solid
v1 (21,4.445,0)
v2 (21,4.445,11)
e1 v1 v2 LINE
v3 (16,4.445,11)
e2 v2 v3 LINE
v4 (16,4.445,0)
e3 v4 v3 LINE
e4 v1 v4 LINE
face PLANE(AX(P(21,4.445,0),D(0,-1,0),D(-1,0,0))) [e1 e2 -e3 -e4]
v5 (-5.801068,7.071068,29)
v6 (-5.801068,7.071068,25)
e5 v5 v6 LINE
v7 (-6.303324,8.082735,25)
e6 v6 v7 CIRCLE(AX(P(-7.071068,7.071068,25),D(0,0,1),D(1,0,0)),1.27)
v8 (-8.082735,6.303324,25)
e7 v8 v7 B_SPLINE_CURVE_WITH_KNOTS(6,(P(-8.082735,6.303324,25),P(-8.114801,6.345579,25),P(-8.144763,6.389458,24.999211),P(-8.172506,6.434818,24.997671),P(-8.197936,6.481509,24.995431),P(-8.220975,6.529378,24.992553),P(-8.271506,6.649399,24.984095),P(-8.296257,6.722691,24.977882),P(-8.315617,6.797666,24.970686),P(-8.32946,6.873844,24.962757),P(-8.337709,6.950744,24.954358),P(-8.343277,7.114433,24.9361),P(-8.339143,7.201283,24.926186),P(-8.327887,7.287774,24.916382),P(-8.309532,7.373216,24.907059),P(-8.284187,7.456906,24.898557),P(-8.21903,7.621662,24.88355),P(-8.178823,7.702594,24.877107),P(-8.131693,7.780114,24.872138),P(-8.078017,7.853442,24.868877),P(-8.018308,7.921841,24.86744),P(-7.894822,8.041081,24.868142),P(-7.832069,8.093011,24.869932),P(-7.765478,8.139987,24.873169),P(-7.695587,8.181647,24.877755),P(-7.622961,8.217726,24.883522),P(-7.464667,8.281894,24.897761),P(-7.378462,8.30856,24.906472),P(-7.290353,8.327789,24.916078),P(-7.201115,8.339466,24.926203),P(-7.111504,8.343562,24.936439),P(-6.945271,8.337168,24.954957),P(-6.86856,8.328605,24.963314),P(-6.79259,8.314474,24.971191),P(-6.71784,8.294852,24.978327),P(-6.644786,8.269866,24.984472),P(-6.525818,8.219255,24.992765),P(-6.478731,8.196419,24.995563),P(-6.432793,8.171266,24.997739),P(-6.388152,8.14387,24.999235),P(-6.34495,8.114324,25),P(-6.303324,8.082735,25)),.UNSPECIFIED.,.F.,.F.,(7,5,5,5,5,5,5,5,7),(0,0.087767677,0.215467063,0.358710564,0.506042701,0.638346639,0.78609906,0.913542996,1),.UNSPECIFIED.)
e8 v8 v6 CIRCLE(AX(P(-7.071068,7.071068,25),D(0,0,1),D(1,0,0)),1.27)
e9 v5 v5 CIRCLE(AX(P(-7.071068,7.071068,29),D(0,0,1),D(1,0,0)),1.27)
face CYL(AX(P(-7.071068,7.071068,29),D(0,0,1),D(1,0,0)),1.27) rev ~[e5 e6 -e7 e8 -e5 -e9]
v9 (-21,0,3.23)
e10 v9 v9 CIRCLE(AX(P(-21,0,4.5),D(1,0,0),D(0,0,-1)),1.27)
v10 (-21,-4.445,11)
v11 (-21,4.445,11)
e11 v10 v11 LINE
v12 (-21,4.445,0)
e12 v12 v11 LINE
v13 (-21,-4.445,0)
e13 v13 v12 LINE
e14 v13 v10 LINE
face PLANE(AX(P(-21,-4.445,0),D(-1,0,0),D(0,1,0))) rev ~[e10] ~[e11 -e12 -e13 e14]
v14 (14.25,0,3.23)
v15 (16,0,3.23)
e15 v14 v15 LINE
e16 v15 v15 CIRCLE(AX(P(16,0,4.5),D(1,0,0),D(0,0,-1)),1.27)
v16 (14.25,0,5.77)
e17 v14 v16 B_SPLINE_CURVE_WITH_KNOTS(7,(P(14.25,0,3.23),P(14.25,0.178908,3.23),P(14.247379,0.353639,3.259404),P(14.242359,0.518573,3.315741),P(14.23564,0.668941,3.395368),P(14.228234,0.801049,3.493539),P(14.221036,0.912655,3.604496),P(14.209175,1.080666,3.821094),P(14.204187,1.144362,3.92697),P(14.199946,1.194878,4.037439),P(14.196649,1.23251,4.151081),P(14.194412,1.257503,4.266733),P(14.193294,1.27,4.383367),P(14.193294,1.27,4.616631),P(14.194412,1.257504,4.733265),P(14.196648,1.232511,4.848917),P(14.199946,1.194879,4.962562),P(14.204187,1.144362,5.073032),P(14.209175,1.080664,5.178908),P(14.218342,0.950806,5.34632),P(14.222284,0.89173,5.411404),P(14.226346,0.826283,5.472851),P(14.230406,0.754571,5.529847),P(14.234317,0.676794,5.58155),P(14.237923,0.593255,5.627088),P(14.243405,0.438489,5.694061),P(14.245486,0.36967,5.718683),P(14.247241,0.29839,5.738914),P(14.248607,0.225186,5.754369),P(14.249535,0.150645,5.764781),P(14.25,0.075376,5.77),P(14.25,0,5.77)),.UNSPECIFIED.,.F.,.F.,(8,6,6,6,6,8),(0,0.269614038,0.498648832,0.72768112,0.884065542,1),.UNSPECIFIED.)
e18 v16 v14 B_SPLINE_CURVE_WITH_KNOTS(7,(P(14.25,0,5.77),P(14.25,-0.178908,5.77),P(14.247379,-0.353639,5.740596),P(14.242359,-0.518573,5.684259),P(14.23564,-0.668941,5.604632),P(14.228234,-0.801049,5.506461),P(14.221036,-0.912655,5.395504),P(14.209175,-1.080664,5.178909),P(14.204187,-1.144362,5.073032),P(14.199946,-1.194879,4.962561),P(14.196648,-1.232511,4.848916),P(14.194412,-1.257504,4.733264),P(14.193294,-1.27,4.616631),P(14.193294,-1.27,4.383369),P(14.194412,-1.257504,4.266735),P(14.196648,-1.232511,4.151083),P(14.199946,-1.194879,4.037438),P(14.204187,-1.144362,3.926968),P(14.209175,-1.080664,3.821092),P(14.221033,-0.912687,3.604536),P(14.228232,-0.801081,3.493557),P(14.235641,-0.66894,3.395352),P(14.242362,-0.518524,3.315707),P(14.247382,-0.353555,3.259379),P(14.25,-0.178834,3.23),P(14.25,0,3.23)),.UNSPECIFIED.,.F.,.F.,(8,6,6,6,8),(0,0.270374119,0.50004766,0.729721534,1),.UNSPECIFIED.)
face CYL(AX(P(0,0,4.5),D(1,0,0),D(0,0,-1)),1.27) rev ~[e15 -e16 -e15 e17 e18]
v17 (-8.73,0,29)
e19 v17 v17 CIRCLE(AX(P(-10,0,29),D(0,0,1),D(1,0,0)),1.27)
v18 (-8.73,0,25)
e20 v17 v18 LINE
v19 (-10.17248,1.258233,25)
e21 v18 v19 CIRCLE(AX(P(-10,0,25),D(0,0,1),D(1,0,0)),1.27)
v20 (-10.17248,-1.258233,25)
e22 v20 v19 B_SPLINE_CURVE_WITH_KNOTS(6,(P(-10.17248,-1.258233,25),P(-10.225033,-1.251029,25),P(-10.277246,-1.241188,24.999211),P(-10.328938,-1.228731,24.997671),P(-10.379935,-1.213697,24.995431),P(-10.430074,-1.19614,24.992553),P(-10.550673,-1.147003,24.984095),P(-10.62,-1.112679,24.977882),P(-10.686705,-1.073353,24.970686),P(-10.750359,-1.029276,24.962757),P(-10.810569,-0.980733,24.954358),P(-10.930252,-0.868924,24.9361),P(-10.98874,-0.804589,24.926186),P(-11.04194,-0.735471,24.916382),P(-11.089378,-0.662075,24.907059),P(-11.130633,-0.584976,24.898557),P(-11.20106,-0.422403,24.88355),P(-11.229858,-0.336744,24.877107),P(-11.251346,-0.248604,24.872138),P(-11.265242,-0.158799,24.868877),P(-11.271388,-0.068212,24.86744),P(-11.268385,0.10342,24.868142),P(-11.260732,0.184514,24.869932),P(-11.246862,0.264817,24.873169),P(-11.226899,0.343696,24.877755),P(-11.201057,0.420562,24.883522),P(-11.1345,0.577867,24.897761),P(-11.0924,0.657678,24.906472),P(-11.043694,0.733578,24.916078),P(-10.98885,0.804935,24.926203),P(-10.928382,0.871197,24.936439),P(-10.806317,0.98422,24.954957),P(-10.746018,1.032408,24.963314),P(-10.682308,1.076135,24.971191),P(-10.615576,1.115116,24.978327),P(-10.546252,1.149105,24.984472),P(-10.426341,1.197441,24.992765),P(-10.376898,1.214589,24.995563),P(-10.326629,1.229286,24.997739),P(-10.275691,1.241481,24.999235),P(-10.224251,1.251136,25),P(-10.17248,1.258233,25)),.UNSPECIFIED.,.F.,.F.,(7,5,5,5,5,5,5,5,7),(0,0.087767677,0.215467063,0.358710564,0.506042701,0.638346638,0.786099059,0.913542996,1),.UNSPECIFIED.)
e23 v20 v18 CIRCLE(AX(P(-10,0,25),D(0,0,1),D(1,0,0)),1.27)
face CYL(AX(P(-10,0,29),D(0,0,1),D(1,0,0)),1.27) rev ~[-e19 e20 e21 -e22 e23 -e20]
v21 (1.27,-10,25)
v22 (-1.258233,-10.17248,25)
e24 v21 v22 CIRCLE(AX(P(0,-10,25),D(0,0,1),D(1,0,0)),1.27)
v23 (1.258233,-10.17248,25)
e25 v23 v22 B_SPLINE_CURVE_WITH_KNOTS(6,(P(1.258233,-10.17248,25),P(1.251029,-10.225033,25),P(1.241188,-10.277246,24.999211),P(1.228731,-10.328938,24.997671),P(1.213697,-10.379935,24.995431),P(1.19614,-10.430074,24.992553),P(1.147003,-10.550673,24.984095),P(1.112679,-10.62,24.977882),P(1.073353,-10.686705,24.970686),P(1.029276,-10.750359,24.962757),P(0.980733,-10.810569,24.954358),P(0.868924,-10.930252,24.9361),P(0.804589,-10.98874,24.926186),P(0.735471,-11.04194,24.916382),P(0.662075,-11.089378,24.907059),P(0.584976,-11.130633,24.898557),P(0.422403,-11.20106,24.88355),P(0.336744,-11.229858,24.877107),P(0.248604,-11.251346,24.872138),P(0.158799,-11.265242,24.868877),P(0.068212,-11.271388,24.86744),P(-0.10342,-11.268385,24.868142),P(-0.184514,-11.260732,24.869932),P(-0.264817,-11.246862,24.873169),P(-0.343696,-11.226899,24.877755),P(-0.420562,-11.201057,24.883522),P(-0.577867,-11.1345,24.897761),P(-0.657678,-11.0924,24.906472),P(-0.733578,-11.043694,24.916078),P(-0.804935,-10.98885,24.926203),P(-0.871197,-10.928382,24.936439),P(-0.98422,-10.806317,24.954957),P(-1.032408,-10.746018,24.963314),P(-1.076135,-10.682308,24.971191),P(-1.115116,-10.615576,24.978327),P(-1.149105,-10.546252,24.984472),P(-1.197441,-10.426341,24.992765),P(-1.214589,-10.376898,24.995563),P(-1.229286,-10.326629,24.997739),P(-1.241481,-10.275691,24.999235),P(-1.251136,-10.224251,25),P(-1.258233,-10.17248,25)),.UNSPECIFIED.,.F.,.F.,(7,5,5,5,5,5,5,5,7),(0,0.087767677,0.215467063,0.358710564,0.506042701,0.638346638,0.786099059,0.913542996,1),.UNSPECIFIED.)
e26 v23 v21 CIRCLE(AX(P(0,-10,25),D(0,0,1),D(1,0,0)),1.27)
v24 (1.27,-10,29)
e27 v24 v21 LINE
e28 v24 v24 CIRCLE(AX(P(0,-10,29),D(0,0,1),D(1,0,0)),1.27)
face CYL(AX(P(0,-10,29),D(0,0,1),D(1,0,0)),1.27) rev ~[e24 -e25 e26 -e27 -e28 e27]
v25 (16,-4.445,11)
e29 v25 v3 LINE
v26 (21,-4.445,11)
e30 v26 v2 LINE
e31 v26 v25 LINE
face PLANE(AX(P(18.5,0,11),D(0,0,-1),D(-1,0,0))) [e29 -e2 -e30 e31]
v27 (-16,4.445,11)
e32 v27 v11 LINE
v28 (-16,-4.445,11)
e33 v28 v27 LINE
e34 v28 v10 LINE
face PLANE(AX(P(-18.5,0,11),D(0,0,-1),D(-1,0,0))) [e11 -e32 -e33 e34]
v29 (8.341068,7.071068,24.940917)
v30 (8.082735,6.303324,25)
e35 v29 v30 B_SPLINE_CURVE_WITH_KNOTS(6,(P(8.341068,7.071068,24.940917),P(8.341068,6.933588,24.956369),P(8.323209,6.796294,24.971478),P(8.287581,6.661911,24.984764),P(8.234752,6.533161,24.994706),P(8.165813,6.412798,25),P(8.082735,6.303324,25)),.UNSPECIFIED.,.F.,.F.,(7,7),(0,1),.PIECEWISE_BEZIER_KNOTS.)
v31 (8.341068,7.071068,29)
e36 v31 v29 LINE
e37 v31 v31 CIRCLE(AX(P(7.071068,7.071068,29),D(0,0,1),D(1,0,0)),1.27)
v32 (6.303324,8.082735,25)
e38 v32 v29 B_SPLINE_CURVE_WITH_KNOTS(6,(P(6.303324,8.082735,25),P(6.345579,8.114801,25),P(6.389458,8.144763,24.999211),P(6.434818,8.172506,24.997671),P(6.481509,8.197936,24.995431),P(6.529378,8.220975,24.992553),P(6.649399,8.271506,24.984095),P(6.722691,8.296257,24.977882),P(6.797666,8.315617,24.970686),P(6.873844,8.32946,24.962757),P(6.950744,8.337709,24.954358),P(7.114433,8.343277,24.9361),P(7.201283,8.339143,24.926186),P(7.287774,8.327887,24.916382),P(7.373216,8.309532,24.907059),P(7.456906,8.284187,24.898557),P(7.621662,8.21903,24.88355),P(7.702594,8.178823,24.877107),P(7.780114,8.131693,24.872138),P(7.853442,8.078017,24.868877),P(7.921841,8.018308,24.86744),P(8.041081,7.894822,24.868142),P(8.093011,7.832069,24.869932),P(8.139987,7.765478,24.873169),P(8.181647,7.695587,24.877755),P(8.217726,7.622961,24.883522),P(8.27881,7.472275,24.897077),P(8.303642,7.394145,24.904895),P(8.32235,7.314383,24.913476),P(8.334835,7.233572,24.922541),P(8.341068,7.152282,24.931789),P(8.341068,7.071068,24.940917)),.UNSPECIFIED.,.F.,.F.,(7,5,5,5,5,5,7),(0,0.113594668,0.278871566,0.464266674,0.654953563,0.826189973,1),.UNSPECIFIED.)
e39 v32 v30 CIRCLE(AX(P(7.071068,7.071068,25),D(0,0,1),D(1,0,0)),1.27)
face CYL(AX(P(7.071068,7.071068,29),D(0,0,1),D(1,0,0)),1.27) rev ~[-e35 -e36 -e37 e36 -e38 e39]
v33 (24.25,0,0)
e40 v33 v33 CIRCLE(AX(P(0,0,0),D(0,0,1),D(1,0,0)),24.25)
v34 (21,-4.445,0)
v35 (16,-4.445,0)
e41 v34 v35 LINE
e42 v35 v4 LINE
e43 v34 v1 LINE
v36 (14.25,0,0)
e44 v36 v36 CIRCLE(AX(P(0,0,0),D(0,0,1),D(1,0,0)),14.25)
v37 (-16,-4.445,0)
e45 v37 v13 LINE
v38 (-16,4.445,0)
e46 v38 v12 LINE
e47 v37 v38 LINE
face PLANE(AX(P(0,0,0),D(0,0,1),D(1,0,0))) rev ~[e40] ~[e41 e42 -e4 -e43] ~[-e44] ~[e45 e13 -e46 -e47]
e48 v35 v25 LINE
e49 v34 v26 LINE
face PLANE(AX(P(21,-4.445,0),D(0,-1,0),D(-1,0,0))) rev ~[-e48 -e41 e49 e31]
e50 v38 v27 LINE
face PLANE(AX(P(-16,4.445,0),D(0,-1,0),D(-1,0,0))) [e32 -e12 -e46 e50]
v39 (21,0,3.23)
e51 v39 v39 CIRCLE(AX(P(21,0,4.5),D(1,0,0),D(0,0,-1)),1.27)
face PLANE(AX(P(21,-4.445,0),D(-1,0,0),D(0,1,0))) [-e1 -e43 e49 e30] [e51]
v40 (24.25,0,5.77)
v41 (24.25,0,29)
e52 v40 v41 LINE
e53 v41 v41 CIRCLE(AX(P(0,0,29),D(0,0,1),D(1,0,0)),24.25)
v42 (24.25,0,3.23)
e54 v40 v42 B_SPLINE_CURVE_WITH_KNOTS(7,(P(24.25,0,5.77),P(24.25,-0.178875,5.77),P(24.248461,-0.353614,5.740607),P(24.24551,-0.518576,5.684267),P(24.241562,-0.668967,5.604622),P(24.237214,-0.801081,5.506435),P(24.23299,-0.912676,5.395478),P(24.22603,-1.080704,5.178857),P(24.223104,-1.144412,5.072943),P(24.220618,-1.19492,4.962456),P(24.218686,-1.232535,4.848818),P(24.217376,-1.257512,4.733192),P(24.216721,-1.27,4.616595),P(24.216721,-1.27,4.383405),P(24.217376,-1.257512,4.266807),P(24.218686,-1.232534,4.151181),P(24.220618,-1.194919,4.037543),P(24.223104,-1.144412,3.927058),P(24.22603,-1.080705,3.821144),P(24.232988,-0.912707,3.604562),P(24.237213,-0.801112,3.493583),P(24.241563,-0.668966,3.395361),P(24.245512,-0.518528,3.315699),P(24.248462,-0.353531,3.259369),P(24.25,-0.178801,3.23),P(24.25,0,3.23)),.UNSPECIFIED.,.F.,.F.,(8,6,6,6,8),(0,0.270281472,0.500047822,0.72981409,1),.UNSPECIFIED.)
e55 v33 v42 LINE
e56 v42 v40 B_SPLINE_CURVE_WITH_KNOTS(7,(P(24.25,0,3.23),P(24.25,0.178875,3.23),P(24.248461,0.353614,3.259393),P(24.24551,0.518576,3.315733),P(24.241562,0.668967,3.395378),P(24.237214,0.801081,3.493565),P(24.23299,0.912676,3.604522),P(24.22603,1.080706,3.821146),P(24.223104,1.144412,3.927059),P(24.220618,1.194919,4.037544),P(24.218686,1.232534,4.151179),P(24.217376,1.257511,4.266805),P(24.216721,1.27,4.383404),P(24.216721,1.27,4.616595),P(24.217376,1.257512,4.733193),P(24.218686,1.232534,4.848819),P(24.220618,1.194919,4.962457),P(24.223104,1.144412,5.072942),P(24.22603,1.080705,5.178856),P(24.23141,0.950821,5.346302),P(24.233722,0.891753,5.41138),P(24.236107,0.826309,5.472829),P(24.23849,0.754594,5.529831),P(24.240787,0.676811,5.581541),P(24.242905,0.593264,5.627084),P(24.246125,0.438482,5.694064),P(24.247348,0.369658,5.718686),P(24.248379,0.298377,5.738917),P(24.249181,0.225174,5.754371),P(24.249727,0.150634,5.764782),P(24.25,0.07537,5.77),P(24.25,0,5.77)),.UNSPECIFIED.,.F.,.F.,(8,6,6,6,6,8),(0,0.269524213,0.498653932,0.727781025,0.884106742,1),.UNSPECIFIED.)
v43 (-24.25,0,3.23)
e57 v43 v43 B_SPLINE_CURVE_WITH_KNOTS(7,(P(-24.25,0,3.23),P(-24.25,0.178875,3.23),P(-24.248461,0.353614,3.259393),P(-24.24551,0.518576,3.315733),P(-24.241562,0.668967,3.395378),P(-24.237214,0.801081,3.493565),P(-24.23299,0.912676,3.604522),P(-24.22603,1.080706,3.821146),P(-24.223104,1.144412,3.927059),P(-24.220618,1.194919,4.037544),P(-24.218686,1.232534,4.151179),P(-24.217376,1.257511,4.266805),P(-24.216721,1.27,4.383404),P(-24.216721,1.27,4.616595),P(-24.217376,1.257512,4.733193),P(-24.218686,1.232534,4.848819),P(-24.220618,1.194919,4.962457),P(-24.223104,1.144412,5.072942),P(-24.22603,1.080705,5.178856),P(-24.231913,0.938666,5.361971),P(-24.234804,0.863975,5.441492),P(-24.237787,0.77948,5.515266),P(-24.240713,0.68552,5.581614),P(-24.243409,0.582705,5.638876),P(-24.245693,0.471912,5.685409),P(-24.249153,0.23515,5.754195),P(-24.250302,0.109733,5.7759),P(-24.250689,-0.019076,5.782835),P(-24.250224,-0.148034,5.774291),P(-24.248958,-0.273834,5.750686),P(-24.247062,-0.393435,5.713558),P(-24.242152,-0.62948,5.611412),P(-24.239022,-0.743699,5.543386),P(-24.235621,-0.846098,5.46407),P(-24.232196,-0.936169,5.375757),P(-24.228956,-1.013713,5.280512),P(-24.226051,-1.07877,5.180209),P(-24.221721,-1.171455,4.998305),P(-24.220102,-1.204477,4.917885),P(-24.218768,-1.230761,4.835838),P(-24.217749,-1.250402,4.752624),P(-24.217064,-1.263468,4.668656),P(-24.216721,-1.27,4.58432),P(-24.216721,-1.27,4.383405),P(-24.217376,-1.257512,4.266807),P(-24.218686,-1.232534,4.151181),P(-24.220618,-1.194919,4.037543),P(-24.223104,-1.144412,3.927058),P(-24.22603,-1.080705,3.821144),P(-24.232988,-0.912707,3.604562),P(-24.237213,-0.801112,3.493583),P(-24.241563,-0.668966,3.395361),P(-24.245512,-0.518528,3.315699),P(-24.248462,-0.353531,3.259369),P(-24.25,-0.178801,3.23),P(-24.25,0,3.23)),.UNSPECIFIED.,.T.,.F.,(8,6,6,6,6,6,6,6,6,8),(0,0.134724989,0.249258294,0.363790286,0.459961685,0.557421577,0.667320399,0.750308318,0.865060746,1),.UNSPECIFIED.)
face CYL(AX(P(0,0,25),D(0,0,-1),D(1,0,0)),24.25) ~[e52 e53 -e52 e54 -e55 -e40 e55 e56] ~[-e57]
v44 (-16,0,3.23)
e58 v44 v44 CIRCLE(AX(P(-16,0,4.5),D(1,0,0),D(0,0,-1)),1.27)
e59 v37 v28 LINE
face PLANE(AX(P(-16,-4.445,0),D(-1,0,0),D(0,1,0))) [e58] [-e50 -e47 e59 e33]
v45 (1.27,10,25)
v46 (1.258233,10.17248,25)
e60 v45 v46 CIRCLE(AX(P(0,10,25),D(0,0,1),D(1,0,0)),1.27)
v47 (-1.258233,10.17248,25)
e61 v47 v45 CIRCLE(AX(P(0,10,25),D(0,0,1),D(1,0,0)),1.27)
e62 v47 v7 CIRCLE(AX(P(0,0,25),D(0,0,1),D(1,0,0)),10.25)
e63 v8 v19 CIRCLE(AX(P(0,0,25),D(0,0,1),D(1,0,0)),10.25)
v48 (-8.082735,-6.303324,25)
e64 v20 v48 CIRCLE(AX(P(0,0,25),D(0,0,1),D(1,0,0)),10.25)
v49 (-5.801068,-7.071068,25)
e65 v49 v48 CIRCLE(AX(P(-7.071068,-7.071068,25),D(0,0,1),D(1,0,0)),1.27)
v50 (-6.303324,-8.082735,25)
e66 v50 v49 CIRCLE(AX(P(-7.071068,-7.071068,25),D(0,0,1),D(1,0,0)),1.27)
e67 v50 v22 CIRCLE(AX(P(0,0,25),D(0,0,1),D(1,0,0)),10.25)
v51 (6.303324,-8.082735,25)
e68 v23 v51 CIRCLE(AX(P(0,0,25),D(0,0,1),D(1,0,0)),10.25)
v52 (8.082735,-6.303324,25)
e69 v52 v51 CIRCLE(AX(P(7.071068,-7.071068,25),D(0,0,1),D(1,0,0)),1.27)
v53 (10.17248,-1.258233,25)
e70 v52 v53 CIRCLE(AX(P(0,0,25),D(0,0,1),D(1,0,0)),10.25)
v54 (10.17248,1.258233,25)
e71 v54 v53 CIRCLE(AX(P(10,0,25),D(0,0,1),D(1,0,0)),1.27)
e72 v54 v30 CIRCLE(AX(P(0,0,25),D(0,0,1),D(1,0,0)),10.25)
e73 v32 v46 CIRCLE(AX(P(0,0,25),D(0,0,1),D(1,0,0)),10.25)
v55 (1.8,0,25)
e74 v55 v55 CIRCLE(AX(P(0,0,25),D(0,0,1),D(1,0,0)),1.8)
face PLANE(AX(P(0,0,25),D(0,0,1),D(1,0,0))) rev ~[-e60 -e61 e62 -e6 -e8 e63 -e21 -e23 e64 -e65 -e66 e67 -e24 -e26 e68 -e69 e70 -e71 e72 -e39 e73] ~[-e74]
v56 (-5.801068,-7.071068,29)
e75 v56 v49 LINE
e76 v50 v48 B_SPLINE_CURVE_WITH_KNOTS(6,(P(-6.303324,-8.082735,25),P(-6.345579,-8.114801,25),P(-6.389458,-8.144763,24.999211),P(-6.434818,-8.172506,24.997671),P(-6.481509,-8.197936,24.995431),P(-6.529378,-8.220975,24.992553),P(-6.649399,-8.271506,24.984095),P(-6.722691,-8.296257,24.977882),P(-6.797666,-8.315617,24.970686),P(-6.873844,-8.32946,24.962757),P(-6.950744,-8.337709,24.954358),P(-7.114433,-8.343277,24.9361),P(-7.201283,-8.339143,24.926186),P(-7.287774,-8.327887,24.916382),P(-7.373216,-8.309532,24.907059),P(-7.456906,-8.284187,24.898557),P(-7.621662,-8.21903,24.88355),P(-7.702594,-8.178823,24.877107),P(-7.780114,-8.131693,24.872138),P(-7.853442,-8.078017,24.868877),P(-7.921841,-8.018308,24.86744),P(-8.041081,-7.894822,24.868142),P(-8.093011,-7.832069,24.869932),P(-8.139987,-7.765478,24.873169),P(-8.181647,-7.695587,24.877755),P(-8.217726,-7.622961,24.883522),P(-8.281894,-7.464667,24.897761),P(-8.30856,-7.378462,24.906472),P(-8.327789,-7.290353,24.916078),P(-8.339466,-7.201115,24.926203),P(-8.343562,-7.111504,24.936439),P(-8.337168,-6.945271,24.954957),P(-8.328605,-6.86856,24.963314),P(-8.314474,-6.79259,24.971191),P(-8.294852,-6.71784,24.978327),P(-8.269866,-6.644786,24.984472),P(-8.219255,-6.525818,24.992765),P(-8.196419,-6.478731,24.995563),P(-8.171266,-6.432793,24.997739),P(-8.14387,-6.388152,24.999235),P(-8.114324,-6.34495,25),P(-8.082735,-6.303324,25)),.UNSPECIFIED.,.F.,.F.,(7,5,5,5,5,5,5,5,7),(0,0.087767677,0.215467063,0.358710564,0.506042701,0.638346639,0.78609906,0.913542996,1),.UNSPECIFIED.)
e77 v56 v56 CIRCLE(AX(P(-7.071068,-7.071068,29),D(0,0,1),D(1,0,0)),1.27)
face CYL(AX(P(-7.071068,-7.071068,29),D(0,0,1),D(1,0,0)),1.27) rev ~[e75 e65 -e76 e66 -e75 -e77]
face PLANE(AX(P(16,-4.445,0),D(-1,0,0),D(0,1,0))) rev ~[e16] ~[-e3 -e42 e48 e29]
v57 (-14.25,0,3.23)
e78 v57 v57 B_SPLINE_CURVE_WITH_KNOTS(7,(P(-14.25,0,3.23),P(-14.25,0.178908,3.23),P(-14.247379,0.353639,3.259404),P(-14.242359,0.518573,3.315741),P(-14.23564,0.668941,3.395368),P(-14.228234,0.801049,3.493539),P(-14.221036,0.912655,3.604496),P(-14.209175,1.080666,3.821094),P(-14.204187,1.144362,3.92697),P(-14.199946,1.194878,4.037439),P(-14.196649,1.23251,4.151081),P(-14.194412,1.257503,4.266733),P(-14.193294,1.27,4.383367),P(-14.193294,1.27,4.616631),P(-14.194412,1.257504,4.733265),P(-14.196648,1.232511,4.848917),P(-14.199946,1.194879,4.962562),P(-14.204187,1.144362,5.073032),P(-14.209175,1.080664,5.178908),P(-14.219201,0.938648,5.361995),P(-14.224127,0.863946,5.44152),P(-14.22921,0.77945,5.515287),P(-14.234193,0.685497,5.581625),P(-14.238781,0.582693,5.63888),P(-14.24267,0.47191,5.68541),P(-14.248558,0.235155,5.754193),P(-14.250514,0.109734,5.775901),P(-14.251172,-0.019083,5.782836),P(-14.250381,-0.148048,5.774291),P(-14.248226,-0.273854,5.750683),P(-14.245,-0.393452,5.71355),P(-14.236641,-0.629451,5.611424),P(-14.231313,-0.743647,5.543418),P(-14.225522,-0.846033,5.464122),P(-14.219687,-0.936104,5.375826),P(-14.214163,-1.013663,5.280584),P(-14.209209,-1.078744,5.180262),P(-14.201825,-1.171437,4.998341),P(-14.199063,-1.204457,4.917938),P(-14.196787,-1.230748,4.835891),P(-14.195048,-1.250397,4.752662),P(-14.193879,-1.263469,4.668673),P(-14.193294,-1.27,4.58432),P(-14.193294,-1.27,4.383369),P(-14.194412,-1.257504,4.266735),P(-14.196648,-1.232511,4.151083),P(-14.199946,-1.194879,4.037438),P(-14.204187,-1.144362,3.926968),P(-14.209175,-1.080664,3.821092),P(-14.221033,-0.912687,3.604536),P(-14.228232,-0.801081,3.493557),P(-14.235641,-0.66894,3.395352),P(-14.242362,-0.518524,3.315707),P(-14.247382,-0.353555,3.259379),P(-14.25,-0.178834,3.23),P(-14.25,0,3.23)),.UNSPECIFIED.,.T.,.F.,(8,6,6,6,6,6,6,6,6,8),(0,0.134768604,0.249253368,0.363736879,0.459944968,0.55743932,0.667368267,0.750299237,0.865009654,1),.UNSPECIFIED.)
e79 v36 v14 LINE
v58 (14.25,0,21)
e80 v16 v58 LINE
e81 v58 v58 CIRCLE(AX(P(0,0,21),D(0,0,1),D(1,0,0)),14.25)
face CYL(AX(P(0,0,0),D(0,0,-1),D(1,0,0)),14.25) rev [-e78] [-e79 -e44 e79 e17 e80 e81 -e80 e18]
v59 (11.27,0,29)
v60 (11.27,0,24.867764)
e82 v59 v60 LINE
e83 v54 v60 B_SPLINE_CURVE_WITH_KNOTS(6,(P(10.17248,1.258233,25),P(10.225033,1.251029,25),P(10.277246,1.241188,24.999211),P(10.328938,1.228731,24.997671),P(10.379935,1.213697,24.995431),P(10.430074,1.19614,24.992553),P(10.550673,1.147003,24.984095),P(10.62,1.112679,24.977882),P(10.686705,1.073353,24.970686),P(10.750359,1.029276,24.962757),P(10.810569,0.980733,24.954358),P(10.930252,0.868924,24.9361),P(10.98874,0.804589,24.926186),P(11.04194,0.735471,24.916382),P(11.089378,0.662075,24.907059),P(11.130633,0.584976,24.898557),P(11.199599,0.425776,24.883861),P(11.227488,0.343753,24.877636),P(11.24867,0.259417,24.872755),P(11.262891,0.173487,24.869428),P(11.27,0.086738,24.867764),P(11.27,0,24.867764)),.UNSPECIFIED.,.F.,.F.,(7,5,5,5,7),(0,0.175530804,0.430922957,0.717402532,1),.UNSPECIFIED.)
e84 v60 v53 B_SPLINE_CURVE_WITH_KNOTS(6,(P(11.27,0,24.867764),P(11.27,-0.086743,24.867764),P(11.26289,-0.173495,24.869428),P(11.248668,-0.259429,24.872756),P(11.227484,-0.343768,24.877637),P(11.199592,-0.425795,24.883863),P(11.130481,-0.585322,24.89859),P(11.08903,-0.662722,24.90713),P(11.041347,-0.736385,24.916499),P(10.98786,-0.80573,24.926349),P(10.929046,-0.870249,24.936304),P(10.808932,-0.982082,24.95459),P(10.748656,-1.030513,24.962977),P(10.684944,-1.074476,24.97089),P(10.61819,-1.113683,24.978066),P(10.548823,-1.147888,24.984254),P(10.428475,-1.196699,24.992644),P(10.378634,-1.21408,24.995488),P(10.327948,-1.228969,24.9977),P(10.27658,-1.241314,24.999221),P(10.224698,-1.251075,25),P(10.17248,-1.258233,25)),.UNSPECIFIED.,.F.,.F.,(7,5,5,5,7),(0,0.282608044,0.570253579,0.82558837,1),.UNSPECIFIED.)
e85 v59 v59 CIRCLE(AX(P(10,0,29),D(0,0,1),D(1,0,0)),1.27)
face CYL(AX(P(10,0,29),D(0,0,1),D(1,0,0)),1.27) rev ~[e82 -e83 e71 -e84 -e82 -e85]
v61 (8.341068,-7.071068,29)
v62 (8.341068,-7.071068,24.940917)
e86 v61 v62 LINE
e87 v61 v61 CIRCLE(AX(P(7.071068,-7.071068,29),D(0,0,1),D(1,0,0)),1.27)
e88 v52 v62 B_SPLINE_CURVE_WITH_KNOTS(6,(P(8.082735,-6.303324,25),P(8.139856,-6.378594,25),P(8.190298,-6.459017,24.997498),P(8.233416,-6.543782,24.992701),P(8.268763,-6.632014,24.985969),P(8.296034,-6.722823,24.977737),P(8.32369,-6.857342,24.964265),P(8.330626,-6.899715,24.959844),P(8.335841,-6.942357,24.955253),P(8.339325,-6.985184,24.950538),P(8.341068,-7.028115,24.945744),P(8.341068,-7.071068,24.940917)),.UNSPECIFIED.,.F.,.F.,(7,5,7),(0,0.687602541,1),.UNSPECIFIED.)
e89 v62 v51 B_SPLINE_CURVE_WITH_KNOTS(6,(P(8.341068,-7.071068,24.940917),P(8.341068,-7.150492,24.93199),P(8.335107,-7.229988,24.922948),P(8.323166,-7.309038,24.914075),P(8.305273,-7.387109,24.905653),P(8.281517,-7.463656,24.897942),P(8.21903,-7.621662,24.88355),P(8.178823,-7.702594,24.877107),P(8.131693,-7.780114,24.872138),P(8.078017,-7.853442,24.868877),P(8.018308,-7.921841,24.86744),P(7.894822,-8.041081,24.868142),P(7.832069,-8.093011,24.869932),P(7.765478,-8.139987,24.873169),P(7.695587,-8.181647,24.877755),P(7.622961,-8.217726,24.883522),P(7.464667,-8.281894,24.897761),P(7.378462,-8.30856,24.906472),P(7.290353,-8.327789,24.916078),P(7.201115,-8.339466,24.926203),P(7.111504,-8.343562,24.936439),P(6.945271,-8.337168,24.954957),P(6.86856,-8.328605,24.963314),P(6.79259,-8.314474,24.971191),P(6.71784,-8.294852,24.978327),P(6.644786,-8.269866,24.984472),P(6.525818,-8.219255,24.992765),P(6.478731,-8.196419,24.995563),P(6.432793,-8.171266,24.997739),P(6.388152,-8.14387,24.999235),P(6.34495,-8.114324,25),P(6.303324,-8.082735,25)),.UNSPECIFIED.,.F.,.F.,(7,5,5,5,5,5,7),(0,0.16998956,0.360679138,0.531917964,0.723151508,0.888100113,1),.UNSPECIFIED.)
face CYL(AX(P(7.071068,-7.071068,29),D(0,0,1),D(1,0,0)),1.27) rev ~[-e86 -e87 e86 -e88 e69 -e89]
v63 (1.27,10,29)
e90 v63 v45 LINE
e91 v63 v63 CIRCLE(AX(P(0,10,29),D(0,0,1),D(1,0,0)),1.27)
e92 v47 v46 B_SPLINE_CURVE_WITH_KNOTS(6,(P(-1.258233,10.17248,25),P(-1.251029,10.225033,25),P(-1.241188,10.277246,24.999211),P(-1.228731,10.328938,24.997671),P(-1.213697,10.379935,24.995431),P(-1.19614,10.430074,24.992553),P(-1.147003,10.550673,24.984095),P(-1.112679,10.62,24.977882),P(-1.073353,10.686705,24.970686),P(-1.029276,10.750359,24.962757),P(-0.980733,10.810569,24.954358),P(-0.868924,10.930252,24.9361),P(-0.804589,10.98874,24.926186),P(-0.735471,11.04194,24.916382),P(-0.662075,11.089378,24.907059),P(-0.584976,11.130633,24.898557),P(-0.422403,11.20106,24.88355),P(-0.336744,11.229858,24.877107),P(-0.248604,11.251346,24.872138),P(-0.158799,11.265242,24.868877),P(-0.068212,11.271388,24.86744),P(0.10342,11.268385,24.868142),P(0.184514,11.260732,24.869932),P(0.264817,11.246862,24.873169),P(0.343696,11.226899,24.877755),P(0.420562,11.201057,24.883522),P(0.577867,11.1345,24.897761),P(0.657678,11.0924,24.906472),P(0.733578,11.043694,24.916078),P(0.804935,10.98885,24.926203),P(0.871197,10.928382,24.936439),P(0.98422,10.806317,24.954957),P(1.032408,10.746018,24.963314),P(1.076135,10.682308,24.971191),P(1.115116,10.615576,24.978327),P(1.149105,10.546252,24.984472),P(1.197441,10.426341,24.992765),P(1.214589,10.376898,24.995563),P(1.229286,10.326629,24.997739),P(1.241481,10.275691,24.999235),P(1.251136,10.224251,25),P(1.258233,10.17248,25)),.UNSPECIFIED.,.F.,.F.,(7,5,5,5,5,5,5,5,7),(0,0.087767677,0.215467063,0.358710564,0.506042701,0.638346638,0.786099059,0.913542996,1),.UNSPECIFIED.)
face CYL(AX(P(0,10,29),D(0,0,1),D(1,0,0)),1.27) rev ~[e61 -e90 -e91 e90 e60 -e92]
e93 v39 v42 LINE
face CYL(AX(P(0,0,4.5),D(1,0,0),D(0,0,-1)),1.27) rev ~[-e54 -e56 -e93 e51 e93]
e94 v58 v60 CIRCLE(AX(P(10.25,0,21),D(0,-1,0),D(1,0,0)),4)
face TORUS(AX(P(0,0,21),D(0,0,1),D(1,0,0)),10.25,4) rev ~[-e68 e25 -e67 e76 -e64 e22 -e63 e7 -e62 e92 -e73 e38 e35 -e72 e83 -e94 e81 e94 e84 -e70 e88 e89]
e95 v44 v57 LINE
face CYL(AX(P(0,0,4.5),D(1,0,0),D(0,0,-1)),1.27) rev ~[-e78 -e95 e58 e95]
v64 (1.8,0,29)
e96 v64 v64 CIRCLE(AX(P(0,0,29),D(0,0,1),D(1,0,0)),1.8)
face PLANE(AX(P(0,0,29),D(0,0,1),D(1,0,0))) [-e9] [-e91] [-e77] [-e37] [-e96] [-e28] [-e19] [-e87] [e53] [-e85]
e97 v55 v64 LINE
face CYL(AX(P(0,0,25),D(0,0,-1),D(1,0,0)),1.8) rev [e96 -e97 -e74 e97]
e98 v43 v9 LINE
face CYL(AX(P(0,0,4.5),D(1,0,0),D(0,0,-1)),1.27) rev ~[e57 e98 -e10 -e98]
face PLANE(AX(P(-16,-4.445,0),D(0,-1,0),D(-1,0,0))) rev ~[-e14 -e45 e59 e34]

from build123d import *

# Parameters (mm, degrees)
SKETCH1_R           = 24.25
SKETCH1_R_2         = 14.25
BOSS_EXTRUDE1_DEPTH = 25
SKETCH2_R           = 24.25
SKETCH2_R_2         = 1.8
BOSS_EXTRUDE2_DEPTH = 4
SKETCH3_W           = 5
SKETCH3_H           = 8.89
CUT_EXTRUDE1_DEPTH  = 11
SKETCH4_R           = 1.27
CUT_EXTRUDE2_DEPTH  = 39
FILLET1_R           = 4
SKETCH5_R           = 1.27
CUT_EXTRUDE3_DEPTH  = 78


with BuildPart() as part:
    # Sketch1 → Boss-Extrude1 (new body)
    with BuildSketch(Plane.XY):
        Circle(SKETCH1_R)
        Circle(SKETCH1_R_2, mode=Mode.SUBTRACT)
    extrude(amount=BOSS_EXTRUDE1_DEPTH)

    # Sketch2 → Boss-Extrude2 (add)
    with BuildSketch(Plane.XY.offset(25)):
        Circle(SKETCH2_R)
        Circle(SKETCH2_R_2, mode=Mode.SUBTRACT)
    extrude(amount=BOSS_EXTRUDE2_DEPTH)

    # Sketch3 → Cut-Extrude1 (cut)
    with BuildSketch(Plane(origin=(0, 0, 0), x_dir=(-1, 0, 0), z_dir=(0, 0, -1))):
        with Locations((-18.5, 0)):
            Rectangle(SKETCH3_W, SKETCH3_H)
        with Locations((18.5, 0)):
            Rectangle(SKETCH3_W, SKETCH3_H)
    extrude(amount=-CUT_EXTRUDE1_DEPTH, mode=Mode.SUBTRACT)

    # Sketch4 → Cut-Extrude2 (cut, symmetric)
    with BuildSketch(Plane(origin=(0, 0, 0), x_dir=(0, 0, -1), z_dir=(1, 0, 0))):
        with Locations((-4.5, 0)):
            Circle(SKETCH4_R)
    extrude(amount=CUT_EXTRUDE2_DEPTH, both=True, mode=Mode.SUBTRACT)

    # Fillet1
    fillet1_edges = [part.edges().sort_by_distance(p)[0] for p in [
        (-14.25, 0, 25),
    ]]
    fillet(fillet1_edges, radius=FILLET1_R)

    # Sketch5 → Cut-Extrude3 (cut)
    with BuildSketch(Plane.XY.offset(29)):
        with Locations((0, 10)):
            Circle(SKETCH5_R)
        with Locations((7.071067812, 7.071067812)):
            Circle(SKETCH5_R)
        with Locations((10, 0)):
            Circle(SKETCH5_R)
        with Locations((7.071067812, -7.071067812)):
            Circle(SKETCH5_R)
        with Locations((0, -10)):
            Circle(SKETCH5_R)
        with Locations((-7.071067812, -7.071067812)):
            Circle(SKETCH5_R)
        with Locations((-10, 0)):
            Circle(SKETCH5_R)
        with Locations((-7.071067812, 7.071067812)):
            Circle(SKETCH5_R)
    extrude(amount=-CUT_EXTRUDE3_DEPTH, mode=Mode.SUBTRACT)


solid = part.part
